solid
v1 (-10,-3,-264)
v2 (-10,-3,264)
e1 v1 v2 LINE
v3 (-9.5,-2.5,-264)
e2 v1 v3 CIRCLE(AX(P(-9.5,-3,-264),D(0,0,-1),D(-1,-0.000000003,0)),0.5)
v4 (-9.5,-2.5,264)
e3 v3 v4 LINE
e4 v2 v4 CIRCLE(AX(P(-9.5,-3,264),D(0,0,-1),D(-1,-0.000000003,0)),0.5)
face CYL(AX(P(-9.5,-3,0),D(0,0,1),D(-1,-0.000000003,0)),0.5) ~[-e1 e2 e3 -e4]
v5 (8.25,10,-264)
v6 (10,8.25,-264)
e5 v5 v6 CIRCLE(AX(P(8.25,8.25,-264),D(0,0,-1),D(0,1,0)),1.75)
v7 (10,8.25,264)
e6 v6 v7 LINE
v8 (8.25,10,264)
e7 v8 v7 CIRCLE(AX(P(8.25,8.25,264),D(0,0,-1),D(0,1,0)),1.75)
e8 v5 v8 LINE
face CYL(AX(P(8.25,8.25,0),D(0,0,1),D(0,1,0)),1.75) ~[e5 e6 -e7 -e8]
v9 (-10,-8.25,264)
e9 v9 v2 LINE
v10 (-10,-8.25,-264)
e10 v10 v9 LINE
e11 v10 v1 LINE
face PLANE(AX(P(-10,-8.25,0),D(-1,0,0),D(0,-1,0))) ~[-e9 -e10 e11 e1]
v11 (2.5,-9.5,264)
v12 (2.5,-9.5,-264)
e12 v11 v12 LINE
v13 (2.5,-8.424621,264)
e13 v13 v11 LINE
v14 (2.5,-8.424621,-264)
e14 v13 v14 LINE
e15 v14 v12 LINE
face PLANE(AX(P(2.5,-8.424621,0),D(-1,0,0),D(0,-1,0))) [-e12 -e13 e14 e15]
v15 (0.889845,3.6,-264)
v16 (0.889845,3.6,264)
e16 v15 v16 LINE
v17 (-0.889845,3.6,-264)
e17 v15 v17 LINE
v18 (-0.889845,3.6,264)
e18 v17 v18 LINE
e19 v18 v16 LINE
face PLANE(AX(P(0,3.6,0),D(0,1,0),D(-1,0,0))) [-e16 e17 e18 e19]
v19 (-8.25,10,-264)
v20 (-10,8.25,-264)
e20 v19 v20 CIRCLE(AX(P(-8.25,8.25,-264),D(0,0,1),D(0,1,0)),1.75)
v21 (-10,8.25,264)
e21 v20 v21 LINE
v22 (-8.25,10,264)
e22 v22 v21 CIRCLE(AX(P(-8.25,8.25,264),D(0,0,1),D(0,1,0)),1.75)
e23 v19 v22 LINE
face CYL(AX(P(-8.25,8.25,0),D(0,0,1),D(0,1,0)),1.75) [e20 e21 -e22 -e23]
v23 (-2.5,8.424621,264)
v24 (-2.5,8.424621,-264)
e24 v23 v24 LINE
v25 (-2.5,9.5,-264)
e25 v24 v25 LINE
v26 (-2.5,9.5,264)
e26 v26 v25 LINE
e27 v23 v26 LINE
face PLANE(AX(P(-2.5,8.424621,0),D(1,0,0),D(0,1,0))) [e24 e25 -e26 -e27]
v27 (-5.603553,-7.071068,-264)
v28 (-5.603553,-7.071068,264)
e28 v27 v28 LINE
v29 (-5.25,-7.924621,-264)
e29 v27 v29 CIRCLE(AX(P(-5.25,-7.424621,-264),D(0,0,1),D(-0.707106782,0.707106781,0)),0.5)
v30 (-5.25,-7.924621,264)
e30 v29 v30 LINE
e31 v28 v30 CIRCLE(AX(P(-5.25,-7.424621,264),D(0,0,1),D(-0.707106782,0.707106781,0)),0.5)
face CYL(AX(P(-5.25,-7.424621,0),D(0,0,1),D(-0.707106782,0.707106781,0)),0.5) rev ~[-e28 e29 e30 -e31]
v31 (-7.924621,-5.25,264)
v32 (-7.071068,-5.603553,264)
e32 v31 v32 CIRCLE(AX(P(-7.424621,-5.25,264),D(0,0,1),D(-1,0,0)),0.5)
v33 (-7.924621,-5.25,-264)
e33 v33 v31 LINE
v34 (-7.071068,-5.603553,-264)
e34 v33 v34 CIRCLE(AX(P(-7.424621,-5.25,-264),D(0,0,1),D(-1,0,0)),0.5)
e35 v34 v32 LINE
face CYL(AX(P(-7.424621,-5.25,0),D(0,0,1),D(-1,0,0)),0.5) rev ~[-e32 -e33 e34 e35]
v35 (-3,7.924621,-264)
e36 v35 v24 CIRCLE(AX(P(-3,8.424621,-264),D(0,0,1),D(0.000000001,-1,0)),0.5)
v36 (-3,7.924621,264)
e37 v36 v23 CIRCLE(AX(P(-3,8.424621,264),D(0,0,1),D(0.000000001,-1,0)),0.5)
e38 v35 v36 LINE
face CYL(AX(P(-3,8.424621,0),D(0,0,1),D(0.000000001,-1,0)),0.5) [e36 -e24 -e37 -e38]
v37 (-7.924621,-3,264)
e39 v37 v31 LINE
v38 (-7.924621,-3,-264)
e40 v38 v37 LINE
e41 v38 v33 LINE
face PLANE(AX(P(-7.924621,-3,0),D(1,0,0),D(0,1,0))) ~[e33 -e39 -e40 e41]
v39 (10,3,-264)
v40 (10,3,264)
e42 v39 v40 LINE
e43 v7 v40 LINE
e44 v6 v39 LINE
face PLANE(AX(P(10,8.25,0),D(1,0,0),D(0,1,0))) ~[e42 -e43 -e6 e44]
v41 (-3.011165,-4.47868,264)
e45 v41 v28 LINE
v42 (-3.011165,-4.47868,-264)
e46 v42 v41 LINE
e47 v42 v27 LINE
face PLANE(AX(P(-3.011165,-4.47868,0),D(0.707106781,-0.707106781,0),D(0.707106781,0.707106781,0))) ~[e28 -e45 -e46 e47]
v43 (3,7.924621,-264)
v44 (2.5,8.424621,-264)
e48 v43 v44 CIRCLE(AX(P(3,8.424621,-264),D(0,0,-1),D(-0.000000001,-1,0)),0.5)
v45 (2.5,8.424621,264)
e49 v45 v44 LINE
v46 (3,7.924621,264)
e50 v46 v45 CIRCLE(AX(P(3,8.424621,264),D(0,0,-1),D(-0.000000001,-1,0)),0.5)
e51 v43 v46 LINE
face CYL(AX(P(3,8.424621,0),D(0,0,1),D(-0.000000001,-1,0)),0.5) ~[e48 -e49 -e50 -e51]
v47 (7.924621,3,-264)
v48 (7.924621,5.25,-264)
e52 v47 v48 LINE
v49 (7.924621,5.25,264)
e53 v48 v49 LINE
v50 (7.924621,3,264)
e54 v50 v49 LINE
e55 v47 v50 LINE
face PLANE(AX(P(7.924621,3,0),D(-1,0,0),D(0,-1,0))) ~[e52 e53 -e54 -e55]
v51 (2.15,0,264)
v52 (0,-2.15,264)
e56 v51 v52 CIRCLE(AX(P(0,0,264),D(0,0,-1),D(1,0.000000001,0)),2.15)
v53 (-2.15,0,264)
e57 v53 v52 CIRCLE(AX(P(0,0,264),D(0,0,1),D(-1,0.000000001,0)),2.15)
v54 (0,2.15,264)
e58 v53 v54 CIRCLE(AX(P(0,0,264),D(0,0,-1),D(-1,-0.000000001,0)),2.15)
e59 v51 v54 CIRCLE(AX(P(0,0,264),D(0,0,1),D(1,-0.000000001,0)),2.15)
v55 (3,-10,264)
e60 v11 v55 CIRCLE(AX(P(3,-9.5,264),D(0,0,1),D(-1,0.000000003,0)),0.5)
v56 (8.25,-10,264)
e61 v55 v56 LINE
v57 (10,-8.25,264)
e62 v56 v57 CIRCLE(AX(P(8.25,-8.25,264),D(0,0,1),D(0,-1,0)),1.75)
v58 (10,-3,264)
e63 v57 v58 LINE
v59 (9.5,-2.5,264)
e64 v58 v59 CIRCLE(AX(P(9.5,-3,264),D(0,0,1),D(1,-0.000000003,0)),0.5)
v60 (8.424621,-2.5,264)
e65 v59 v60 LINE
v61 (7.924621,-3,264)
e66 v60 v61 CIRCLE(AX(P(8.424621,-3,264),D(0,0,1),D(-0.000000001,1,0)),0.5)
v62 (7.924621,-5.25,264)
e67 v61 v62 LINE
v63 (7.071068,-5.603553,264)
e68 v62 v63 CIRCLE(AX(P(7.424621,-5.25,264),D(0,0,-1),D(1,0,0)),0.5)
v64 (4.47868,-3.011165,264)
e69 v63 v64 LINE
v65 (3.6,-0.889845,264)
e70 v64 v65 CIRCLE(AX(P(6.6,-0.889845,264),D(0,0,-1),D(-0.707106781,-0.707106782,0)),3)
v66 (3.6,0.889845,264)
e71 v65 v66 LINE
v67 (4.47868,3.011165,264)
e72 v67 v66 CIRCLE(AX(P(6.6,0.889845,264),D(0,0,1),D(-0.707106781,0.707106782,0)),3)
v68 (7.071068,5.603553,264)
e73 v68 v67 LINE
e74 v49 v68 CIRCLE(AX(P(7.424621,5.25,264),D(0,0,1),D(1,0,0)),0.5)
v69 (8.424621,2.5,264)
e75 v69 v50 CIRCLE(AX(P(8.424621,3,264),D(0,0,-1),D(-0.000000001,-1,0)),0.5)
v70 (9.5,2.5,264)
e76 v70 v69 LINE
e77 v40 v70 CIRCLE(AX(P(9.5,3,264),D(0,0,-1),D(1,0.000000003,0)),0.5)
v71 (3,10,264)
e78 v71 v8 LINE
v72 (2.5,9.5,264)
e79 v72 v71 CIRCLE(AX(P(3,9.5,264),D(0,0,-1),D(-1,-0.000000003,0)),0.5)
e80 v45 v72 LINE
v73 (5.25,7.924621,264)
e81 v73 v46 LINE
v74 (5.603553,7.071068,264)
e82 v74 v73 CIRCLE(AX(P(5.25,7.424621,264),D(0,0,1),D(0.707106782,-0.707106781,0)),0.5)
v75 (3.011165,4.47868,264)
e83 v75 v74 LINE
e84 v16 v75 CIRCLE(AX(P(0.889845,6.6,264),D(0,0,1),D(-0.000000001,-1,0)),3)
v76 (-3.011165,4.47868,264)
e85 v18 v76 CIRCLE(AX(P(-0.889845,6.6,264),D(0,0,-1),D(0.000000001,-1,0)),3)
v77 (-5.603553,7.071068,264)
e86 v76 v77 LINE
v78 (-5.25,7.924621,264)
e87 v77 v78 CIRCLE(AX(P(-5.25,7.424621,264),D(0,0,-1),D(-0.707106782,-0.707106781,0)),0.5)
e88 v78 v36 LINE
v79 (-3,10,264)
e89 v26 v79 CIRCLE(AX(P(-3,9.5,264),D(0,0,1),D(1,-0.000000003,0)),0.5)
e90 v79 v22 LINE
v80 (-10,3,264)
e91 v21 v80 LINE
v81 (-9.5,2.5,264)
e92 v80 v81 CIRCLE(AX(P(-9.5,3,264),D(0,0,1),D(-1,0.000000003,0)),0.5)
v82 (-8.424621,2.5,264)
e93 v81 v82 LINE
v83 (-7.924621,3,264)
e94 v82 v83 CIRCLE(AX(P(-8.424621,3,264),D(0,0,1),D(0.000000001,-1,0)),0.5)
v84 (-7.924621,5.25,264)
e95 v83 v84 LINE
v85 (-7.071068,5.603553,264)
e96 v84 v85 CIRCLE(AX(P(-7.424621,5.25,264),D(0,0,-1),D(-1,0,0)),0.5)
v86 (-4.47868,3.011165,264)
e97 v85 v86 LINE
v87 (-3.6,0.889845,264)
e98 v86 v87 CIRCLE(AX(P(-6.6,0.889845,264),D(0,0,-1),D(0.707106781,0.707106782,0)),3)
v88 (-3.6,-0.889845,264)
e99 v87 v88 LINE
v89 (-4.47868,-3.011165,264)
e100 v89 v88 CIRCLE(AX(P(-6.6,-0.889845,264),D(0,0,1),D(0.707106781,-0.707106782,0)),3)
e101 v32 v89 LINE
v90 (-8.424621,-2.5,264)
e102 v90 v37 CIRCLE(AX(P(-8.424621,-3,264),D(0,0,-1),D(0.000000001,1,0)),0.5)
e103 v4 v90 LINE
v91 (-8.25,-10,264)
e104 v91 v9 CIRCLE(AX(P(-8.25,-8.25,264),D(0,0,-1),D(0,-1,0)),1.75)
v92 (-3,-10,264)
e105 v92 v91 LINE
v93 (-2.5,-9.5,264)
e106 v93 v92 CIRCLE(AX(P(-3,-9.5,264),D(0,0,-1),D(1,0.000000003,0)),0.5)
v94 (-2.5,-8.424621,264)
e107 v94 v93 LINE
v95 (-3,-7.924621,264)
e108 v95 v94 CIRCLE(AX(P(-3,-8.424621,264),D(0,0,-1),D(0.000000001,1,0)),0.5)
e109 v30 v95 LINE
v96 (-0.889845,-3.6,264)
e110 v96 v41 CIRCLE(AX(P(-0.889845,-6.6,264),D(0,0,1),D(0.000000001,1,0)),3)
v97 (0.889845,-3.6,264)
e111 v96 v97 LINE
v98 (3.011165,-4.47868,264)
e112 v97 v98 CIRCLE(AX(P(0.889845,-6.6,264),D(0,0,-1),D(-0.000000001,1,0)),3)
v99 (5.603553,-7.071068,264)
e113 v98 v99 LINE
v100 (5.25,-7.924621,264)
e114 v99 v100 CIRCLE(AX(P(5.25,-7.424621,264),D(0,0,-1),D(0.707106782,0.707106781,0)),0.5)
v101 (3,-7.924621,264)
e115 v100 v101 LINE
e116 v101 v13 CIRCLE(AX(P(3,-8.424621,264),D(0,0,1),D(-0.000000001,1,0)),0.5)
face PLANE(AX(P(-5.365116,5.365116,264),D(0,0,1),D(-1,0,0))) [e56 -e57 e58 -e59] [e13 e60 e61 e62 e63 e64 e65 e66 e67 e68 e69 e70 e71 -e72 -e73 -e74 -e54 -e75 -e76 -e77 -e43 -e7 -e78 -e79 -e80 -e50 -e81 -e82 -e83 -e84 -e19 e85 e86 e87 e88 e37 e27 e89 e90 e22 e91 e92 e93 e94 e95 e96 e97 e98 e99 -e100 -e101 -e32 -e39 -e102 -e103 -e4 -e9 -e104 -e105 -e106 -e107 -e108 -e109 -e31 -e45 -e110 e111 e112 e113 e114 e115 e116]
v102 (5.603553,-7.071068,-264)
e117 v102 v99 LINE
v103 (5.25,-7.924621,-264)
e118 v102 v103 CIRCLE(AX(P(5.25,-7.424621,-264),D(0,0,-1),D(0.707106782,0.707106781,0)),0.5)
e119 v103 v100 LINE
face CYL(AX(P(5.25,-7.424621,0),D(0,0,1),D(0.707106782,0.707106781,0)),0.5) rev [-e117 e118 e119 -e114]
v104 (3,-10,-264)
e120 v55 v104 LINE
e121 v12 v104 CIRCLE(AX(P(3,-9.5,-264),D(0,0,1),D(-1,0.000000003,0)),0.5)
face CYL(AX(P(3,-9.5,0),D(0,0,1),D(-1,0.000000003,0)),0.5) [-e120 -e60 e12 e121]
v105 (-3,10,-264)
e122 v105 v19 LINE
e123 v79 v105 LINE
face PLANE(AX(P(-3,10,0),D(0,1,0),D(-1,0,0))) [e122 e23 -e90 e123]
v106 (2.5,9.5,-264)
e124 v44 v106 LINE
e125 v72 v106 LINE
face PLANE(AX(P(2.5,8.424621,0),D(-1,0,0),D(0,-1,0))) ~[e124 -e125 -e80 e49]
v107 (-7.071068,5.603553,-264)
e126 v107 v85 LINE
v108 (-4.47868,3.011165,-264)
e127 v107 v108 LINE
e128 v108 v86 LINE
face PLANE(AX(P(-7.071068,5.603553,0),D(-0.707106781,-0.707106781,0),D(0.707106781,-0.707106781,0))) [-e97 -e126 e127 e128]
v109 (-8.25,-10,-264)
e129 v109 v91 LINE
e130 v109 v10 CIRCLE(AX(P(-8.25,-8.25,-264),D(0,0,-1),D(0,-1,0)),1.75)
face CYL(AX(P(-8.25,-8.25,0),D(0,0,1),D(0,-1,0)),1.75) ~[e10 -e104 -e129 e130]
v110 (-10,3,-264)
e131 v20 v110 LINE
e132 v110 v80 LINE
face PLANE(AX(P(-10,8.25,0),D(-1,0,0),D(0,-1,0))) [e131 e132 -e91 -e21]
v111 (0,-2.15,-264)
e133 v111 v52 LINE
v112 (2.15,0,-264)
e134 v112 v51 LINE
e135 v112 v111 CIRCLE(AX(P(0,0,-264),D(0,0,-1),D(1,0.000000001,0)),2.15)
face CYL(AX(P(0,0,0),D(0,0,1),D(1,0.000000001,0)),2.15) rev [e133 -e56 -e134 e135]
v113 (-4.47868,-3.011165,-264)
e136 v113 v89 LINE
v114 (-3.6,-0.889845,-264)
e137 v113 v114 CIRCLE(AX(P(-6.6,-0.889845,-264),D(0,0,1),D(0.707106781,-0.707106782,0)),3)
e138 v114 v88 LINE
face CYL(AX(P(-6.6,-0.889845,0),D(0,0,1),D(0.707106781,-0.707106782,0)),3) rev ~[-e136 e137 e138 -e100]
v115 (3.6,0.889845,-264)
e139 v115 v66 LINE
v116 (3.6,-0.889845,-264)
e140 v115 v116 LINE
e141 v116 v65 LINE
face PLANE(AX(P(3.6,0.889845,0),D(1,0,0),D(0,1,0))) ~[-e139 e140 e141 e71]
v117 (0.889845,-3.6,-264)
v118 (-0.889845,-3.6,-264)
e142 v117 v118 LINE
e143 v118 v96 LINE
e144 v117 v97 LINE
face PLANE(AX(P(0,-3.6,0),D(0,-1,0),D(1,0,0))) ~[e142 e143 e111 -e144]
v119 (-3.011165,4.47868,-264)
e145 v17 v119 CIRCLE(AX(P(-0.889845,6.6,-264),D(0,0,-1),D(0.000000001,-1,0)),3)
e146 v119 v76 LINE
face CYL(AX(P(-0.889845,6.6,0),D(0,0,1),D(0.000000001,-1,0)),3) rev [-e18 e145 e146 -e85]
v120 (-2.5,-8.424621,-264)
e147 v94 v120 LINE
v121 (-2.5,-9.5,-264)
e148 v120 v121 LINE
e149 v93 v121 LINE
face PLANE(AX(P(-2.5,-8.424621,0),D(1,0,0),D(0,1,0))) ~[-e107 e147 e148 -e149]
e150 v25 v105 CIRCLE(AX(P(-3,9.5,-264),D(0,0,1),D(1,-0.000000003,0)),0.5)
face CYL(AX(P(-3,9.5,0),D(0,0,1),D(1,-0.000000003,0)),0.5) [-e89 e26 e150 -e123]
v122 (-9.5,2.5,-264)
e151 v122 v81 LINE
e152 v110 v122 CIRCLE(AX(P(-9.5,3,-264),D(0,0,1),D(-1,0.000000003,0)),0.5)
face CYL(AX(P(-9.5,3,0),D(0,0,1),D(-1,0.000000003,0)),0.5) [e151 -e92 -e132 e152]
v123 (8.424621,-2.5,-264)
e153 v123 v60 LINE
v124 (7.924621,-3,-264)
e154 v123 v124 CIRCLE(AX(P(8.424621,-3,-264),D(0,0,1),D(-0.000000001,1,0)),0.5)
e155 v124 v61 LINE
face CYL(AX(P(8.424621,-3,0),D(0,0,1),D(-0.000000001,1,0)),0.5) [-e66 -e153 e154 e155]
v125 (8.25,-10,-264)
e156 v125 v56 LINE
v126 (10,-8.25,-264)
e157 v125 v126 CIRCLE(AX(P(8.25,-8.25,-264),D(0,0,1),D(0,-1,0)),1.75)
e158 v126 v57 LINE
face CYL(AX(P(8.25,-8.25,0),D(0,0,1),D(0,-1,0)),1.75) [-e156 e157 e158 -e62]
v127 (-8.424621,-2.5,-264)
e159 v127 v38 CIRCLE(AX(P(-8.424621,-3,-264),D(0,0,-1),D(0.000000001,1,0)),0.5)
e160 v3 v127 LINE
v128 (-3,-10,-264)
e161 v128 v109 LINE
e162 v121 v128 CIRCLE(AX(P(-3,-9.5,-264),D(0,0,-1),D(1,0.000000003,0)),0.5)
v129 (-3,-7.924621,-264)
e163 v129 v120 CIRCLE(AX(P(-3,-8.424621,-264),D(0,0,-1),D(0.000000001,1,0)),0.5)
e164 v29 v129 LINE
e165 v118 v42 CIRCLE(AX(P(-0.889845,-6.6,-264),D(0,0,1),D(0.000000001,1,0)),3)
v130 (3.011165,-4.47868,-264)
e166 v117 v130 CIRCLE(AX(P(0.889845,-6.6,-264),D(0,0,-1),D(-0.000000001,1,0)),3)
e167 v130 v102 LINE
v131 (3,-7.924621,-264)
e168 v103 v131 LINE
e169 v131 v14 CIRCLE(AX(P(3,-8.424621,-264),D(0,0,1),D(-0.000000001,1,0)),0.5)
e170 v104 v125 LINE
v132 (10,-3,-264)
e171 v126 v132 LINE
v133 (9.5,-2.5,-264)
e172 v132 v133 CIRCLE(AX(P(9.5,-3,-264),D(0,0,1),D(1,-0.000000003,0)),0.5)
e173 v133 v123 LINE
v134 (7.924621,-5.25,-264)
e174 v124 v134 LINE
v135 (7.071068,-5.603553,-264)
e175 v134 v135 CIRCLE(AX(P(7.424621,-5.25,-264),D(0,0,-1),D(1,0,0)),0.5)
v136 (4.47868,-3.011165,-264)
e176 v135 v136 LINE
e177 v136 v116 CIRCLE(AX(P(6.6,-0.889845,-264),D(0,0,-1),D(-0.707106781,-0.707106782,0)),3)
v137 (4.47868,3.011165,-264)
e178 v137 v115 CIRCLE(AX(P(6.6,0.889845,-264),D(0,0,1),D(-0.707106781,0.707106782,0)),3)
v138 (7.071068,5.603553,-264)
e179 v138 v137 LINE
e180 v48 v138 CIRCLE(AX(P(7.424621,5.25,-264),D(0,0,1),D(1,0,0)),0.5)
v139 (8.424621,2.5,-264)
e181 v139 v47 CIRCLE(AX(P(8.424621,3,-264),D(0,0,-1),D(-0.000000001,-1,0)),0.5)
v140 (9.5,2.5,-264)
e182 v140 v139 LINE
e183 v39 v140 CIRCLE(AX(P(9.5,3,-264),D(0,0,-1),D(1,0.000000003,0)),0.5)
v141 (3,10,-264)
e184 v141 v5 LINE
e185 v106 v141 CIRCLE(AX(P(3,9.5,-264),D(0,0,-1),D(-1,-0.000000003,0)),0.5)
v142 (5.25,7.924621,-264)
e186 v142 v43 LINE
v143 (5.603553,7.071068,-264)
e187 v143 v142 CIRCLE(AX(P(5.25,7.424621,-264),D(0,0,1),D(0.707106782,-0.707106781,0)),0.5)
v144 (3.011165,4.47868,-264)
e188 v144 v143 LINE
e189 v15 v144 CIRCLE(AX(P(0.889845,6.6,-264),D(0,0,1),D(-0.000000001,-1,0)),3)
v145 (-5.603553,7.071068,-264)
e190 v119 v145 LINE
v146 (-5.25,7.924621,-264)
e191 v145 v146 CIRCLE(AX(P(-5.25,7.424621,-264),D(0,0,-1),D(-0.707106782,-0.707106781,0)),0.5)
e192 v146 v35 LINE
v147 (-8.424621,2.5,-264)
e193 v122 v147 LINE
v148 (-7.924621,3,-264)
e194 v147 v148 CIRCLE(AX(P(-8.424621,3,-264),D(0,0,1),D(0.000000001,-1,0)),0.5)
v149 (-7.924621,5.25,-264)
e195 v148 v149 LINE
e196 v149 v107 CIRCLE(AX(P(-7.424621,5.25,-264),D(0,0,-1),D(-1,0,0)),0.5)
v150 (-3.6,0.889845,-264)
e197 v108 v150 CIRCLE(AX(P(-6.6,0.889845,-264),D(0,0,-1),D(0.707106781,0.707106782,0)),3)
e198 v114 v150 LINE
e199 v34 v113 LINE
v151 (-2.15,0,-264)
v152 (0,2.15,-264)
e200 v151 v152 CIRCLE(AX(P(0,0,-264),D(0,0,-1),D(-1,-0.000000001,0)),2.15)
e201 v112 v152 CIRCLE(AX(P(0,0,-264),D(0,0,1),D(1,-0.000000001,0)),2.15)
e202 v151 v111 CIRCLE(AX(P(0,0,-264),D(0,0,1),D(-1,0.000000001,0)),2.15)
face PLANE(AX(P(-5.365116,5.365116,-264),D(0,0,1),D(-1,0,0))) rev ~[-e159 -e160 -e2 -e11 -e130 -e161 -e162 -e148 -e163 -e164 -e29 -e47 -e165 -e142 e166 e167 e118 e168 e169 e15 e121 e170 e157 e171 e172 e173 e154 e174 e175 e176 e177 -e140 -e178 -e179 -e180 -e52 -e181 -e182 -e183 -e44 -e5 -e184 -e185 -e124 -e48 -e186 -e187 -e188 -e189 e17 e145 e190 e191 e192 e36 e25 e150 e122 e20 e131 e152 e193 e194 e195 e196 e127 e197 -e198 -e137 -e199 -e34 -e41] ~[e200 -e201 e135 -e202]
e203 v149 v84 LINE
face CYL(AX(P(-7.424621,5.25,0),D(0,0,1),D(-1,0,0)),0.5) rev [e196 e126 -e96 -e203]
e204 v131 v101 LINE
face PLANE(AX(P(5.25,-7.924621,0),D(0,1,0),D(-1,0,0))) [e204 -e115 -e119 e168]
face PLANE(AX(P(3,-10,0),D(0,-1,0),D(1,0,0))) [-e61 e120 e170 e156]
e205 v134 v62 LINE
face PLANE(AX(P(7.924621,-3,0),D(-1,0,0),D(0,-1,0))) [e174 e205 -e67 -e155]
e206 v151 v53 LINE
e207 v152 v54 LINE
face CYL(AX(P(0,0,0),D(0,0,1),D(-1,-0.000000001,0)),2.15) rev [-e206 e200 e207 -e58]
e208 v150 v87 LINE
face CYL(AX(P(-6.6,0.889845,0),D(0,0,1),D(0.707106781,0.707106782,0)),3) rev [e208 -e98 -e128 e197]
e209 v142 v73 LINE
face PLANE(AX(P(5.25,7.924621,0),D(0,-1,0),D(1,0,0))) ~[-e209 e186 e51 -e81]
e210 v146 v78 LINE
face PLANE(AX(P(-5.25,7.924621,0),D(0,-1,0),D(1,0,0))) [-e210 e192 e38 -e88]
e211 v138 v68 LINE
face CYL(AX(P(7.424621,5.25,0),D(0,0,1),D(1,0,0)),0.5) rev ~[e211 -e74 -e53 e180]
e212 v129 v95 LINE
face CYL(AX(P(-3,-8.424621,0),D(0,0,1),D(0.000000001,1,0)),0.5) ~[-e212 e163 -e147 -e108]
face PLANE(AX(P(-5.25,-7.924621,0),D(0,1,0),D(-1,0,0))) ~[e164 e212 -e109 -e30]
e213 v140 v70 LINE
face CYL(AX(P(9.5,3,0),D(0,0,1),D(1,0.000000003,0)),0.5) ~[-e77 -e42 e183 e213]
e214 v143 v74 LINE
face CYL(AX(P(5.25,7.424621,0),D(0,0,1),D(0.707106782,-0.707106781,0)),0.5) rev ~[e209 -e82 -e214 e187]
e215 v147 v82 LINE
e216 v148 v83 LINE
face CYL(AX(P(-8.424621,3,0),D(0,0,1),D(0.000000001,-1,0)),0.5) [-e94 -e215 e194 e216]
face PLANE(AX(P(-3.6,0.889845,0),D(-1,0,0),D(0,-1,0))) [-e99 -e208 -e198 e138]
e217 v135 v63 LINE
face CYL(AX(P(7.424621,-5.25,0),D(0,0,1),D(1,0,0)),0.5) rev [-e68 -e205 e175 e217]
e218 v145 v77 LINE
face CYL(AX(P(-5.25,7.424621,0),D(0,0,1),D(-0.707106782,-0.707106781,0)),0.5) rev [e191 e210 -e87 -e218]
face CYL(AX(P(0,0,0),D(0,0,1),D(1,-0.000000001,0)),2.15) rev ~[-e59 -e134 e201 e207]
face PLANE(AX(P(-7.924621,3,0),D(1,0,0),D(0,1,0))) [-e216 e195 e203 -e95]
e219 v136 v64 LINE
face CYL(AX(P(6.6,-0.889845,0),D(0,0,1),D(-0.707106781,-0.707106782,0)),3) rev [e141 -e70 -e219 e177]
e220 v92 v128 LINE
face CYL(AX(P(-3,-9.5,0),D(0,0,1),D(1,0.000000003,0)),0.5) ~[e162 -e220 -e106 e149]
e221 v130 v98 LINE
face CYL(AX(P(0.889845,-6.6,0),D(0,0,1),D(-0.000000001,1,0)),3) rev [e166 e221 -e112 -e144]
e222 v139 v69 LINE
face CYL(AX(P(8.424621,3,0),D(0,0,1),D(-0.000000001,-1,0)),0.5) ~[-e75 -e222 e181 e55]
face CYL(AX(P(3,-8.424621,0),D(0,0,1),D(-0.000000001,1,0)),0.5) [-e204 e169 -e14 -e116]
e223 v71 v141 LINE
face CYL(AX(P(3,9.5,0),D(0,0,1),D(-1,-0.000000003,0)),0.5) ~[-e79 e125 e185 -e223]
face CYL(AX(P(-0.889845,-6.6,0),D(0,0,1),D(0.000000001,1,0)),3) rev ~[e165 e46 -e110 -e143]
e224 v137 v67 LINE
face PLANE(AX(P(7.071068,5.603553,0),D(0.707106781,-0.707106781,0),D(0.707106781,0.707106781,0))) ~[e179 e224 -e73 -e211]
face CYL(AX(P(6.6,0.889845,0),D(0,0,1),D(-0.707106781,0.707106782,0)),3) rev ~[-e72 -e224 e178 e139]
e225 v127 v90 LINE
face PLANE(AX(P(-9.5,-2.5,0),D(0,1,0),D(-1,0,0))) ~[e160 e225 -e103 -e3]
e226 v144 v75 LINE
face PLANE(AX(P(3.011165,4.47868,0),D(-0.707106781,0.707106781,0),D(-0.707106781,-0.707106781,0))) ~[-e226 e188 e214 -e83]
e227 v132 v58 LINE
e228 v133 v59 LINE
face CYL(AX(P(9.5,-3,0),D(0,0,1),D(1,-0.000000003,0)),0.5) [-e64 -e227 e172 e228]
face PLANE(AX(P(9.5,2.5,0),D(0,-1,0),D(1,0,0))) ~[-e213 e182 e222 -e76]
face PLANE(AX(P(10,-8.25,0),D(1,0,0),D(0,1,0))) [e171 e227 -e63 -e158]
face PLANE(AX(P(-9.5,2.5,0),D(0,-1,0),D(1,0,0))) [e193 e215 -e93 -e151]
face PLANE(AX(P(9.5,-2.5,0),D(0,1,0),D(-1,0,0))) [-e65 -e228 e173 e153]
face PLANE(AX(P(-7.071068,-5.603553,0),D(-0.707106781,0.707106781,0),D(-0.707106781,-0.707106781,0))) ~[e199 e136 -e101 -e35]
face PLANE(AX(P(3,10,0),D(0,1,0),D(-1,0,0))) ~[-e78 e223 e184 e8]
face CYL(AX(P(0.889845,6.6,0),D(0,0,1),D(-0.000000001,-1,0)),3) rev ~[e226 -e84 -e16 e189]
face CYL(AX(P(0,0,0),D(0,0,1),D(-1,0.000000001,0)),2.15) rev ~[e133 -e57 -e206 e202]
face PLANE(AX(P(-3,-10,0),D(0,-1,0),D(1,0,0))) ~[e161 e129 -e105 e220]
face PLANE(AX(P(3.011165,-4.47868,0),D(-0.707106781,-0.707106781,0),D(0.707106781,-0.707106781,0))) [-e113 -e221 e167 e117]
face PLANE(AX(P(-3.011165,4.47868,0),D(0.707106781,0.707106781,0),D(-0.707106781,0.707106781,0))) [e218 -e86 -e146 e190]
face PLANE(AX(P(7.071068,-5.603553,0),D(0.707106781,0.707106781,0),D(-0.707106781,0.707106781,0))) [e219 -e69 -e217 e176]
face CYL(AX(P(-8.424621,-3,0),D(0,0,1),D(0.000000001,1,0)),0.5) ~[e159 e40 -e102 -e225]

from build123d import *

# Parameters (mm, degrees)
BOSS_EXTRUDE1_DEPTH = 264


with BuildPart() as part:
    # Sketch4 → Boss-Extrude1 (new body, symmetric)
    with BuildSketch(Plane.XY):
        with BuildLine():
            Line((3, -10), (8.25, -10))
            ThreePointArc((8.25, -10), (9.487436867, -9.487436867), (10, -8.25))
            Line((10, -8.25), (10, -3))
            ThreePointArc((10, -3), (9.853553391, -2.646446609), (9.5, -2.5))
            Line((9.5, -2.5), (8.424621202, -2.5))
            ThreePointArc((8.424621202, -2.5), (8.071067812, -2.646446609), (7.924621202, -3))
            Line((7.924621202, -3), (7.924621202, -5.25))
            ThreePointArc((7.924621202, -5.25), (7.615962919, -5.711939766), (7.071067812, -5.603553391))
            Line((7.071067812, -5.603553391), (4.478679656, -3.011165235))
            ThreePointArc((4.478679656, -3.011165235), (3.828361402, -2.037895189), (3.6, -0.889844892))
            Line((3.6, -0.889844892), (3.6, 0))
            Line((3.6, 0), (2.15, 0))
            ThreePointArc((2.15, 0), (1.52027958, -1.52027958), (0, -2.15))
            Line((0, -2.15), (0, -3.6))
            Line((0, -3.6), (0.889844892, -3.6))
            ThreePointArc((0.889844892, -3.6), (2.037895189, -3.828361402), (3.011165235, -4.478679656))
            Line((3.011165235, -4.478679656), (5.603553391, -7.071067812))
            ThreePointArc((5.603553391, -7.071067812), (5.711939766, -7.615962919), (5.25, -7.924621202))
            Line((5.25, -7.924621202), (3, -7.924621202))
            ThreePointArc((3, -7.924621202), (2.646446609, -8.071067812), (2.5, -8.424621202))
            Line((2.5, -8.424621202), (2.5, -9.5))
            ThreePointArc((2.5, -9.5), (2.646446609, -9.853553391), (3, -10))
        make_face()
    extrude(amount=BOSS_EXTRUDE1_DEPTH, both=True)

    # Mirror1: part across plane


with BuildPart() as part_1:
    add(part.part)
    add(part.part.mirror(Plane(origin=(0, 0, 0), x_dir=(0, 0, 1), z_dir=(1, 0, 0))))

    # Mirror2: part across plane


with BuildPart() as part_2:
    add(part_1.part)
    add(part_1.part.mirror(Plane.ZX))


solid = part_2.part
